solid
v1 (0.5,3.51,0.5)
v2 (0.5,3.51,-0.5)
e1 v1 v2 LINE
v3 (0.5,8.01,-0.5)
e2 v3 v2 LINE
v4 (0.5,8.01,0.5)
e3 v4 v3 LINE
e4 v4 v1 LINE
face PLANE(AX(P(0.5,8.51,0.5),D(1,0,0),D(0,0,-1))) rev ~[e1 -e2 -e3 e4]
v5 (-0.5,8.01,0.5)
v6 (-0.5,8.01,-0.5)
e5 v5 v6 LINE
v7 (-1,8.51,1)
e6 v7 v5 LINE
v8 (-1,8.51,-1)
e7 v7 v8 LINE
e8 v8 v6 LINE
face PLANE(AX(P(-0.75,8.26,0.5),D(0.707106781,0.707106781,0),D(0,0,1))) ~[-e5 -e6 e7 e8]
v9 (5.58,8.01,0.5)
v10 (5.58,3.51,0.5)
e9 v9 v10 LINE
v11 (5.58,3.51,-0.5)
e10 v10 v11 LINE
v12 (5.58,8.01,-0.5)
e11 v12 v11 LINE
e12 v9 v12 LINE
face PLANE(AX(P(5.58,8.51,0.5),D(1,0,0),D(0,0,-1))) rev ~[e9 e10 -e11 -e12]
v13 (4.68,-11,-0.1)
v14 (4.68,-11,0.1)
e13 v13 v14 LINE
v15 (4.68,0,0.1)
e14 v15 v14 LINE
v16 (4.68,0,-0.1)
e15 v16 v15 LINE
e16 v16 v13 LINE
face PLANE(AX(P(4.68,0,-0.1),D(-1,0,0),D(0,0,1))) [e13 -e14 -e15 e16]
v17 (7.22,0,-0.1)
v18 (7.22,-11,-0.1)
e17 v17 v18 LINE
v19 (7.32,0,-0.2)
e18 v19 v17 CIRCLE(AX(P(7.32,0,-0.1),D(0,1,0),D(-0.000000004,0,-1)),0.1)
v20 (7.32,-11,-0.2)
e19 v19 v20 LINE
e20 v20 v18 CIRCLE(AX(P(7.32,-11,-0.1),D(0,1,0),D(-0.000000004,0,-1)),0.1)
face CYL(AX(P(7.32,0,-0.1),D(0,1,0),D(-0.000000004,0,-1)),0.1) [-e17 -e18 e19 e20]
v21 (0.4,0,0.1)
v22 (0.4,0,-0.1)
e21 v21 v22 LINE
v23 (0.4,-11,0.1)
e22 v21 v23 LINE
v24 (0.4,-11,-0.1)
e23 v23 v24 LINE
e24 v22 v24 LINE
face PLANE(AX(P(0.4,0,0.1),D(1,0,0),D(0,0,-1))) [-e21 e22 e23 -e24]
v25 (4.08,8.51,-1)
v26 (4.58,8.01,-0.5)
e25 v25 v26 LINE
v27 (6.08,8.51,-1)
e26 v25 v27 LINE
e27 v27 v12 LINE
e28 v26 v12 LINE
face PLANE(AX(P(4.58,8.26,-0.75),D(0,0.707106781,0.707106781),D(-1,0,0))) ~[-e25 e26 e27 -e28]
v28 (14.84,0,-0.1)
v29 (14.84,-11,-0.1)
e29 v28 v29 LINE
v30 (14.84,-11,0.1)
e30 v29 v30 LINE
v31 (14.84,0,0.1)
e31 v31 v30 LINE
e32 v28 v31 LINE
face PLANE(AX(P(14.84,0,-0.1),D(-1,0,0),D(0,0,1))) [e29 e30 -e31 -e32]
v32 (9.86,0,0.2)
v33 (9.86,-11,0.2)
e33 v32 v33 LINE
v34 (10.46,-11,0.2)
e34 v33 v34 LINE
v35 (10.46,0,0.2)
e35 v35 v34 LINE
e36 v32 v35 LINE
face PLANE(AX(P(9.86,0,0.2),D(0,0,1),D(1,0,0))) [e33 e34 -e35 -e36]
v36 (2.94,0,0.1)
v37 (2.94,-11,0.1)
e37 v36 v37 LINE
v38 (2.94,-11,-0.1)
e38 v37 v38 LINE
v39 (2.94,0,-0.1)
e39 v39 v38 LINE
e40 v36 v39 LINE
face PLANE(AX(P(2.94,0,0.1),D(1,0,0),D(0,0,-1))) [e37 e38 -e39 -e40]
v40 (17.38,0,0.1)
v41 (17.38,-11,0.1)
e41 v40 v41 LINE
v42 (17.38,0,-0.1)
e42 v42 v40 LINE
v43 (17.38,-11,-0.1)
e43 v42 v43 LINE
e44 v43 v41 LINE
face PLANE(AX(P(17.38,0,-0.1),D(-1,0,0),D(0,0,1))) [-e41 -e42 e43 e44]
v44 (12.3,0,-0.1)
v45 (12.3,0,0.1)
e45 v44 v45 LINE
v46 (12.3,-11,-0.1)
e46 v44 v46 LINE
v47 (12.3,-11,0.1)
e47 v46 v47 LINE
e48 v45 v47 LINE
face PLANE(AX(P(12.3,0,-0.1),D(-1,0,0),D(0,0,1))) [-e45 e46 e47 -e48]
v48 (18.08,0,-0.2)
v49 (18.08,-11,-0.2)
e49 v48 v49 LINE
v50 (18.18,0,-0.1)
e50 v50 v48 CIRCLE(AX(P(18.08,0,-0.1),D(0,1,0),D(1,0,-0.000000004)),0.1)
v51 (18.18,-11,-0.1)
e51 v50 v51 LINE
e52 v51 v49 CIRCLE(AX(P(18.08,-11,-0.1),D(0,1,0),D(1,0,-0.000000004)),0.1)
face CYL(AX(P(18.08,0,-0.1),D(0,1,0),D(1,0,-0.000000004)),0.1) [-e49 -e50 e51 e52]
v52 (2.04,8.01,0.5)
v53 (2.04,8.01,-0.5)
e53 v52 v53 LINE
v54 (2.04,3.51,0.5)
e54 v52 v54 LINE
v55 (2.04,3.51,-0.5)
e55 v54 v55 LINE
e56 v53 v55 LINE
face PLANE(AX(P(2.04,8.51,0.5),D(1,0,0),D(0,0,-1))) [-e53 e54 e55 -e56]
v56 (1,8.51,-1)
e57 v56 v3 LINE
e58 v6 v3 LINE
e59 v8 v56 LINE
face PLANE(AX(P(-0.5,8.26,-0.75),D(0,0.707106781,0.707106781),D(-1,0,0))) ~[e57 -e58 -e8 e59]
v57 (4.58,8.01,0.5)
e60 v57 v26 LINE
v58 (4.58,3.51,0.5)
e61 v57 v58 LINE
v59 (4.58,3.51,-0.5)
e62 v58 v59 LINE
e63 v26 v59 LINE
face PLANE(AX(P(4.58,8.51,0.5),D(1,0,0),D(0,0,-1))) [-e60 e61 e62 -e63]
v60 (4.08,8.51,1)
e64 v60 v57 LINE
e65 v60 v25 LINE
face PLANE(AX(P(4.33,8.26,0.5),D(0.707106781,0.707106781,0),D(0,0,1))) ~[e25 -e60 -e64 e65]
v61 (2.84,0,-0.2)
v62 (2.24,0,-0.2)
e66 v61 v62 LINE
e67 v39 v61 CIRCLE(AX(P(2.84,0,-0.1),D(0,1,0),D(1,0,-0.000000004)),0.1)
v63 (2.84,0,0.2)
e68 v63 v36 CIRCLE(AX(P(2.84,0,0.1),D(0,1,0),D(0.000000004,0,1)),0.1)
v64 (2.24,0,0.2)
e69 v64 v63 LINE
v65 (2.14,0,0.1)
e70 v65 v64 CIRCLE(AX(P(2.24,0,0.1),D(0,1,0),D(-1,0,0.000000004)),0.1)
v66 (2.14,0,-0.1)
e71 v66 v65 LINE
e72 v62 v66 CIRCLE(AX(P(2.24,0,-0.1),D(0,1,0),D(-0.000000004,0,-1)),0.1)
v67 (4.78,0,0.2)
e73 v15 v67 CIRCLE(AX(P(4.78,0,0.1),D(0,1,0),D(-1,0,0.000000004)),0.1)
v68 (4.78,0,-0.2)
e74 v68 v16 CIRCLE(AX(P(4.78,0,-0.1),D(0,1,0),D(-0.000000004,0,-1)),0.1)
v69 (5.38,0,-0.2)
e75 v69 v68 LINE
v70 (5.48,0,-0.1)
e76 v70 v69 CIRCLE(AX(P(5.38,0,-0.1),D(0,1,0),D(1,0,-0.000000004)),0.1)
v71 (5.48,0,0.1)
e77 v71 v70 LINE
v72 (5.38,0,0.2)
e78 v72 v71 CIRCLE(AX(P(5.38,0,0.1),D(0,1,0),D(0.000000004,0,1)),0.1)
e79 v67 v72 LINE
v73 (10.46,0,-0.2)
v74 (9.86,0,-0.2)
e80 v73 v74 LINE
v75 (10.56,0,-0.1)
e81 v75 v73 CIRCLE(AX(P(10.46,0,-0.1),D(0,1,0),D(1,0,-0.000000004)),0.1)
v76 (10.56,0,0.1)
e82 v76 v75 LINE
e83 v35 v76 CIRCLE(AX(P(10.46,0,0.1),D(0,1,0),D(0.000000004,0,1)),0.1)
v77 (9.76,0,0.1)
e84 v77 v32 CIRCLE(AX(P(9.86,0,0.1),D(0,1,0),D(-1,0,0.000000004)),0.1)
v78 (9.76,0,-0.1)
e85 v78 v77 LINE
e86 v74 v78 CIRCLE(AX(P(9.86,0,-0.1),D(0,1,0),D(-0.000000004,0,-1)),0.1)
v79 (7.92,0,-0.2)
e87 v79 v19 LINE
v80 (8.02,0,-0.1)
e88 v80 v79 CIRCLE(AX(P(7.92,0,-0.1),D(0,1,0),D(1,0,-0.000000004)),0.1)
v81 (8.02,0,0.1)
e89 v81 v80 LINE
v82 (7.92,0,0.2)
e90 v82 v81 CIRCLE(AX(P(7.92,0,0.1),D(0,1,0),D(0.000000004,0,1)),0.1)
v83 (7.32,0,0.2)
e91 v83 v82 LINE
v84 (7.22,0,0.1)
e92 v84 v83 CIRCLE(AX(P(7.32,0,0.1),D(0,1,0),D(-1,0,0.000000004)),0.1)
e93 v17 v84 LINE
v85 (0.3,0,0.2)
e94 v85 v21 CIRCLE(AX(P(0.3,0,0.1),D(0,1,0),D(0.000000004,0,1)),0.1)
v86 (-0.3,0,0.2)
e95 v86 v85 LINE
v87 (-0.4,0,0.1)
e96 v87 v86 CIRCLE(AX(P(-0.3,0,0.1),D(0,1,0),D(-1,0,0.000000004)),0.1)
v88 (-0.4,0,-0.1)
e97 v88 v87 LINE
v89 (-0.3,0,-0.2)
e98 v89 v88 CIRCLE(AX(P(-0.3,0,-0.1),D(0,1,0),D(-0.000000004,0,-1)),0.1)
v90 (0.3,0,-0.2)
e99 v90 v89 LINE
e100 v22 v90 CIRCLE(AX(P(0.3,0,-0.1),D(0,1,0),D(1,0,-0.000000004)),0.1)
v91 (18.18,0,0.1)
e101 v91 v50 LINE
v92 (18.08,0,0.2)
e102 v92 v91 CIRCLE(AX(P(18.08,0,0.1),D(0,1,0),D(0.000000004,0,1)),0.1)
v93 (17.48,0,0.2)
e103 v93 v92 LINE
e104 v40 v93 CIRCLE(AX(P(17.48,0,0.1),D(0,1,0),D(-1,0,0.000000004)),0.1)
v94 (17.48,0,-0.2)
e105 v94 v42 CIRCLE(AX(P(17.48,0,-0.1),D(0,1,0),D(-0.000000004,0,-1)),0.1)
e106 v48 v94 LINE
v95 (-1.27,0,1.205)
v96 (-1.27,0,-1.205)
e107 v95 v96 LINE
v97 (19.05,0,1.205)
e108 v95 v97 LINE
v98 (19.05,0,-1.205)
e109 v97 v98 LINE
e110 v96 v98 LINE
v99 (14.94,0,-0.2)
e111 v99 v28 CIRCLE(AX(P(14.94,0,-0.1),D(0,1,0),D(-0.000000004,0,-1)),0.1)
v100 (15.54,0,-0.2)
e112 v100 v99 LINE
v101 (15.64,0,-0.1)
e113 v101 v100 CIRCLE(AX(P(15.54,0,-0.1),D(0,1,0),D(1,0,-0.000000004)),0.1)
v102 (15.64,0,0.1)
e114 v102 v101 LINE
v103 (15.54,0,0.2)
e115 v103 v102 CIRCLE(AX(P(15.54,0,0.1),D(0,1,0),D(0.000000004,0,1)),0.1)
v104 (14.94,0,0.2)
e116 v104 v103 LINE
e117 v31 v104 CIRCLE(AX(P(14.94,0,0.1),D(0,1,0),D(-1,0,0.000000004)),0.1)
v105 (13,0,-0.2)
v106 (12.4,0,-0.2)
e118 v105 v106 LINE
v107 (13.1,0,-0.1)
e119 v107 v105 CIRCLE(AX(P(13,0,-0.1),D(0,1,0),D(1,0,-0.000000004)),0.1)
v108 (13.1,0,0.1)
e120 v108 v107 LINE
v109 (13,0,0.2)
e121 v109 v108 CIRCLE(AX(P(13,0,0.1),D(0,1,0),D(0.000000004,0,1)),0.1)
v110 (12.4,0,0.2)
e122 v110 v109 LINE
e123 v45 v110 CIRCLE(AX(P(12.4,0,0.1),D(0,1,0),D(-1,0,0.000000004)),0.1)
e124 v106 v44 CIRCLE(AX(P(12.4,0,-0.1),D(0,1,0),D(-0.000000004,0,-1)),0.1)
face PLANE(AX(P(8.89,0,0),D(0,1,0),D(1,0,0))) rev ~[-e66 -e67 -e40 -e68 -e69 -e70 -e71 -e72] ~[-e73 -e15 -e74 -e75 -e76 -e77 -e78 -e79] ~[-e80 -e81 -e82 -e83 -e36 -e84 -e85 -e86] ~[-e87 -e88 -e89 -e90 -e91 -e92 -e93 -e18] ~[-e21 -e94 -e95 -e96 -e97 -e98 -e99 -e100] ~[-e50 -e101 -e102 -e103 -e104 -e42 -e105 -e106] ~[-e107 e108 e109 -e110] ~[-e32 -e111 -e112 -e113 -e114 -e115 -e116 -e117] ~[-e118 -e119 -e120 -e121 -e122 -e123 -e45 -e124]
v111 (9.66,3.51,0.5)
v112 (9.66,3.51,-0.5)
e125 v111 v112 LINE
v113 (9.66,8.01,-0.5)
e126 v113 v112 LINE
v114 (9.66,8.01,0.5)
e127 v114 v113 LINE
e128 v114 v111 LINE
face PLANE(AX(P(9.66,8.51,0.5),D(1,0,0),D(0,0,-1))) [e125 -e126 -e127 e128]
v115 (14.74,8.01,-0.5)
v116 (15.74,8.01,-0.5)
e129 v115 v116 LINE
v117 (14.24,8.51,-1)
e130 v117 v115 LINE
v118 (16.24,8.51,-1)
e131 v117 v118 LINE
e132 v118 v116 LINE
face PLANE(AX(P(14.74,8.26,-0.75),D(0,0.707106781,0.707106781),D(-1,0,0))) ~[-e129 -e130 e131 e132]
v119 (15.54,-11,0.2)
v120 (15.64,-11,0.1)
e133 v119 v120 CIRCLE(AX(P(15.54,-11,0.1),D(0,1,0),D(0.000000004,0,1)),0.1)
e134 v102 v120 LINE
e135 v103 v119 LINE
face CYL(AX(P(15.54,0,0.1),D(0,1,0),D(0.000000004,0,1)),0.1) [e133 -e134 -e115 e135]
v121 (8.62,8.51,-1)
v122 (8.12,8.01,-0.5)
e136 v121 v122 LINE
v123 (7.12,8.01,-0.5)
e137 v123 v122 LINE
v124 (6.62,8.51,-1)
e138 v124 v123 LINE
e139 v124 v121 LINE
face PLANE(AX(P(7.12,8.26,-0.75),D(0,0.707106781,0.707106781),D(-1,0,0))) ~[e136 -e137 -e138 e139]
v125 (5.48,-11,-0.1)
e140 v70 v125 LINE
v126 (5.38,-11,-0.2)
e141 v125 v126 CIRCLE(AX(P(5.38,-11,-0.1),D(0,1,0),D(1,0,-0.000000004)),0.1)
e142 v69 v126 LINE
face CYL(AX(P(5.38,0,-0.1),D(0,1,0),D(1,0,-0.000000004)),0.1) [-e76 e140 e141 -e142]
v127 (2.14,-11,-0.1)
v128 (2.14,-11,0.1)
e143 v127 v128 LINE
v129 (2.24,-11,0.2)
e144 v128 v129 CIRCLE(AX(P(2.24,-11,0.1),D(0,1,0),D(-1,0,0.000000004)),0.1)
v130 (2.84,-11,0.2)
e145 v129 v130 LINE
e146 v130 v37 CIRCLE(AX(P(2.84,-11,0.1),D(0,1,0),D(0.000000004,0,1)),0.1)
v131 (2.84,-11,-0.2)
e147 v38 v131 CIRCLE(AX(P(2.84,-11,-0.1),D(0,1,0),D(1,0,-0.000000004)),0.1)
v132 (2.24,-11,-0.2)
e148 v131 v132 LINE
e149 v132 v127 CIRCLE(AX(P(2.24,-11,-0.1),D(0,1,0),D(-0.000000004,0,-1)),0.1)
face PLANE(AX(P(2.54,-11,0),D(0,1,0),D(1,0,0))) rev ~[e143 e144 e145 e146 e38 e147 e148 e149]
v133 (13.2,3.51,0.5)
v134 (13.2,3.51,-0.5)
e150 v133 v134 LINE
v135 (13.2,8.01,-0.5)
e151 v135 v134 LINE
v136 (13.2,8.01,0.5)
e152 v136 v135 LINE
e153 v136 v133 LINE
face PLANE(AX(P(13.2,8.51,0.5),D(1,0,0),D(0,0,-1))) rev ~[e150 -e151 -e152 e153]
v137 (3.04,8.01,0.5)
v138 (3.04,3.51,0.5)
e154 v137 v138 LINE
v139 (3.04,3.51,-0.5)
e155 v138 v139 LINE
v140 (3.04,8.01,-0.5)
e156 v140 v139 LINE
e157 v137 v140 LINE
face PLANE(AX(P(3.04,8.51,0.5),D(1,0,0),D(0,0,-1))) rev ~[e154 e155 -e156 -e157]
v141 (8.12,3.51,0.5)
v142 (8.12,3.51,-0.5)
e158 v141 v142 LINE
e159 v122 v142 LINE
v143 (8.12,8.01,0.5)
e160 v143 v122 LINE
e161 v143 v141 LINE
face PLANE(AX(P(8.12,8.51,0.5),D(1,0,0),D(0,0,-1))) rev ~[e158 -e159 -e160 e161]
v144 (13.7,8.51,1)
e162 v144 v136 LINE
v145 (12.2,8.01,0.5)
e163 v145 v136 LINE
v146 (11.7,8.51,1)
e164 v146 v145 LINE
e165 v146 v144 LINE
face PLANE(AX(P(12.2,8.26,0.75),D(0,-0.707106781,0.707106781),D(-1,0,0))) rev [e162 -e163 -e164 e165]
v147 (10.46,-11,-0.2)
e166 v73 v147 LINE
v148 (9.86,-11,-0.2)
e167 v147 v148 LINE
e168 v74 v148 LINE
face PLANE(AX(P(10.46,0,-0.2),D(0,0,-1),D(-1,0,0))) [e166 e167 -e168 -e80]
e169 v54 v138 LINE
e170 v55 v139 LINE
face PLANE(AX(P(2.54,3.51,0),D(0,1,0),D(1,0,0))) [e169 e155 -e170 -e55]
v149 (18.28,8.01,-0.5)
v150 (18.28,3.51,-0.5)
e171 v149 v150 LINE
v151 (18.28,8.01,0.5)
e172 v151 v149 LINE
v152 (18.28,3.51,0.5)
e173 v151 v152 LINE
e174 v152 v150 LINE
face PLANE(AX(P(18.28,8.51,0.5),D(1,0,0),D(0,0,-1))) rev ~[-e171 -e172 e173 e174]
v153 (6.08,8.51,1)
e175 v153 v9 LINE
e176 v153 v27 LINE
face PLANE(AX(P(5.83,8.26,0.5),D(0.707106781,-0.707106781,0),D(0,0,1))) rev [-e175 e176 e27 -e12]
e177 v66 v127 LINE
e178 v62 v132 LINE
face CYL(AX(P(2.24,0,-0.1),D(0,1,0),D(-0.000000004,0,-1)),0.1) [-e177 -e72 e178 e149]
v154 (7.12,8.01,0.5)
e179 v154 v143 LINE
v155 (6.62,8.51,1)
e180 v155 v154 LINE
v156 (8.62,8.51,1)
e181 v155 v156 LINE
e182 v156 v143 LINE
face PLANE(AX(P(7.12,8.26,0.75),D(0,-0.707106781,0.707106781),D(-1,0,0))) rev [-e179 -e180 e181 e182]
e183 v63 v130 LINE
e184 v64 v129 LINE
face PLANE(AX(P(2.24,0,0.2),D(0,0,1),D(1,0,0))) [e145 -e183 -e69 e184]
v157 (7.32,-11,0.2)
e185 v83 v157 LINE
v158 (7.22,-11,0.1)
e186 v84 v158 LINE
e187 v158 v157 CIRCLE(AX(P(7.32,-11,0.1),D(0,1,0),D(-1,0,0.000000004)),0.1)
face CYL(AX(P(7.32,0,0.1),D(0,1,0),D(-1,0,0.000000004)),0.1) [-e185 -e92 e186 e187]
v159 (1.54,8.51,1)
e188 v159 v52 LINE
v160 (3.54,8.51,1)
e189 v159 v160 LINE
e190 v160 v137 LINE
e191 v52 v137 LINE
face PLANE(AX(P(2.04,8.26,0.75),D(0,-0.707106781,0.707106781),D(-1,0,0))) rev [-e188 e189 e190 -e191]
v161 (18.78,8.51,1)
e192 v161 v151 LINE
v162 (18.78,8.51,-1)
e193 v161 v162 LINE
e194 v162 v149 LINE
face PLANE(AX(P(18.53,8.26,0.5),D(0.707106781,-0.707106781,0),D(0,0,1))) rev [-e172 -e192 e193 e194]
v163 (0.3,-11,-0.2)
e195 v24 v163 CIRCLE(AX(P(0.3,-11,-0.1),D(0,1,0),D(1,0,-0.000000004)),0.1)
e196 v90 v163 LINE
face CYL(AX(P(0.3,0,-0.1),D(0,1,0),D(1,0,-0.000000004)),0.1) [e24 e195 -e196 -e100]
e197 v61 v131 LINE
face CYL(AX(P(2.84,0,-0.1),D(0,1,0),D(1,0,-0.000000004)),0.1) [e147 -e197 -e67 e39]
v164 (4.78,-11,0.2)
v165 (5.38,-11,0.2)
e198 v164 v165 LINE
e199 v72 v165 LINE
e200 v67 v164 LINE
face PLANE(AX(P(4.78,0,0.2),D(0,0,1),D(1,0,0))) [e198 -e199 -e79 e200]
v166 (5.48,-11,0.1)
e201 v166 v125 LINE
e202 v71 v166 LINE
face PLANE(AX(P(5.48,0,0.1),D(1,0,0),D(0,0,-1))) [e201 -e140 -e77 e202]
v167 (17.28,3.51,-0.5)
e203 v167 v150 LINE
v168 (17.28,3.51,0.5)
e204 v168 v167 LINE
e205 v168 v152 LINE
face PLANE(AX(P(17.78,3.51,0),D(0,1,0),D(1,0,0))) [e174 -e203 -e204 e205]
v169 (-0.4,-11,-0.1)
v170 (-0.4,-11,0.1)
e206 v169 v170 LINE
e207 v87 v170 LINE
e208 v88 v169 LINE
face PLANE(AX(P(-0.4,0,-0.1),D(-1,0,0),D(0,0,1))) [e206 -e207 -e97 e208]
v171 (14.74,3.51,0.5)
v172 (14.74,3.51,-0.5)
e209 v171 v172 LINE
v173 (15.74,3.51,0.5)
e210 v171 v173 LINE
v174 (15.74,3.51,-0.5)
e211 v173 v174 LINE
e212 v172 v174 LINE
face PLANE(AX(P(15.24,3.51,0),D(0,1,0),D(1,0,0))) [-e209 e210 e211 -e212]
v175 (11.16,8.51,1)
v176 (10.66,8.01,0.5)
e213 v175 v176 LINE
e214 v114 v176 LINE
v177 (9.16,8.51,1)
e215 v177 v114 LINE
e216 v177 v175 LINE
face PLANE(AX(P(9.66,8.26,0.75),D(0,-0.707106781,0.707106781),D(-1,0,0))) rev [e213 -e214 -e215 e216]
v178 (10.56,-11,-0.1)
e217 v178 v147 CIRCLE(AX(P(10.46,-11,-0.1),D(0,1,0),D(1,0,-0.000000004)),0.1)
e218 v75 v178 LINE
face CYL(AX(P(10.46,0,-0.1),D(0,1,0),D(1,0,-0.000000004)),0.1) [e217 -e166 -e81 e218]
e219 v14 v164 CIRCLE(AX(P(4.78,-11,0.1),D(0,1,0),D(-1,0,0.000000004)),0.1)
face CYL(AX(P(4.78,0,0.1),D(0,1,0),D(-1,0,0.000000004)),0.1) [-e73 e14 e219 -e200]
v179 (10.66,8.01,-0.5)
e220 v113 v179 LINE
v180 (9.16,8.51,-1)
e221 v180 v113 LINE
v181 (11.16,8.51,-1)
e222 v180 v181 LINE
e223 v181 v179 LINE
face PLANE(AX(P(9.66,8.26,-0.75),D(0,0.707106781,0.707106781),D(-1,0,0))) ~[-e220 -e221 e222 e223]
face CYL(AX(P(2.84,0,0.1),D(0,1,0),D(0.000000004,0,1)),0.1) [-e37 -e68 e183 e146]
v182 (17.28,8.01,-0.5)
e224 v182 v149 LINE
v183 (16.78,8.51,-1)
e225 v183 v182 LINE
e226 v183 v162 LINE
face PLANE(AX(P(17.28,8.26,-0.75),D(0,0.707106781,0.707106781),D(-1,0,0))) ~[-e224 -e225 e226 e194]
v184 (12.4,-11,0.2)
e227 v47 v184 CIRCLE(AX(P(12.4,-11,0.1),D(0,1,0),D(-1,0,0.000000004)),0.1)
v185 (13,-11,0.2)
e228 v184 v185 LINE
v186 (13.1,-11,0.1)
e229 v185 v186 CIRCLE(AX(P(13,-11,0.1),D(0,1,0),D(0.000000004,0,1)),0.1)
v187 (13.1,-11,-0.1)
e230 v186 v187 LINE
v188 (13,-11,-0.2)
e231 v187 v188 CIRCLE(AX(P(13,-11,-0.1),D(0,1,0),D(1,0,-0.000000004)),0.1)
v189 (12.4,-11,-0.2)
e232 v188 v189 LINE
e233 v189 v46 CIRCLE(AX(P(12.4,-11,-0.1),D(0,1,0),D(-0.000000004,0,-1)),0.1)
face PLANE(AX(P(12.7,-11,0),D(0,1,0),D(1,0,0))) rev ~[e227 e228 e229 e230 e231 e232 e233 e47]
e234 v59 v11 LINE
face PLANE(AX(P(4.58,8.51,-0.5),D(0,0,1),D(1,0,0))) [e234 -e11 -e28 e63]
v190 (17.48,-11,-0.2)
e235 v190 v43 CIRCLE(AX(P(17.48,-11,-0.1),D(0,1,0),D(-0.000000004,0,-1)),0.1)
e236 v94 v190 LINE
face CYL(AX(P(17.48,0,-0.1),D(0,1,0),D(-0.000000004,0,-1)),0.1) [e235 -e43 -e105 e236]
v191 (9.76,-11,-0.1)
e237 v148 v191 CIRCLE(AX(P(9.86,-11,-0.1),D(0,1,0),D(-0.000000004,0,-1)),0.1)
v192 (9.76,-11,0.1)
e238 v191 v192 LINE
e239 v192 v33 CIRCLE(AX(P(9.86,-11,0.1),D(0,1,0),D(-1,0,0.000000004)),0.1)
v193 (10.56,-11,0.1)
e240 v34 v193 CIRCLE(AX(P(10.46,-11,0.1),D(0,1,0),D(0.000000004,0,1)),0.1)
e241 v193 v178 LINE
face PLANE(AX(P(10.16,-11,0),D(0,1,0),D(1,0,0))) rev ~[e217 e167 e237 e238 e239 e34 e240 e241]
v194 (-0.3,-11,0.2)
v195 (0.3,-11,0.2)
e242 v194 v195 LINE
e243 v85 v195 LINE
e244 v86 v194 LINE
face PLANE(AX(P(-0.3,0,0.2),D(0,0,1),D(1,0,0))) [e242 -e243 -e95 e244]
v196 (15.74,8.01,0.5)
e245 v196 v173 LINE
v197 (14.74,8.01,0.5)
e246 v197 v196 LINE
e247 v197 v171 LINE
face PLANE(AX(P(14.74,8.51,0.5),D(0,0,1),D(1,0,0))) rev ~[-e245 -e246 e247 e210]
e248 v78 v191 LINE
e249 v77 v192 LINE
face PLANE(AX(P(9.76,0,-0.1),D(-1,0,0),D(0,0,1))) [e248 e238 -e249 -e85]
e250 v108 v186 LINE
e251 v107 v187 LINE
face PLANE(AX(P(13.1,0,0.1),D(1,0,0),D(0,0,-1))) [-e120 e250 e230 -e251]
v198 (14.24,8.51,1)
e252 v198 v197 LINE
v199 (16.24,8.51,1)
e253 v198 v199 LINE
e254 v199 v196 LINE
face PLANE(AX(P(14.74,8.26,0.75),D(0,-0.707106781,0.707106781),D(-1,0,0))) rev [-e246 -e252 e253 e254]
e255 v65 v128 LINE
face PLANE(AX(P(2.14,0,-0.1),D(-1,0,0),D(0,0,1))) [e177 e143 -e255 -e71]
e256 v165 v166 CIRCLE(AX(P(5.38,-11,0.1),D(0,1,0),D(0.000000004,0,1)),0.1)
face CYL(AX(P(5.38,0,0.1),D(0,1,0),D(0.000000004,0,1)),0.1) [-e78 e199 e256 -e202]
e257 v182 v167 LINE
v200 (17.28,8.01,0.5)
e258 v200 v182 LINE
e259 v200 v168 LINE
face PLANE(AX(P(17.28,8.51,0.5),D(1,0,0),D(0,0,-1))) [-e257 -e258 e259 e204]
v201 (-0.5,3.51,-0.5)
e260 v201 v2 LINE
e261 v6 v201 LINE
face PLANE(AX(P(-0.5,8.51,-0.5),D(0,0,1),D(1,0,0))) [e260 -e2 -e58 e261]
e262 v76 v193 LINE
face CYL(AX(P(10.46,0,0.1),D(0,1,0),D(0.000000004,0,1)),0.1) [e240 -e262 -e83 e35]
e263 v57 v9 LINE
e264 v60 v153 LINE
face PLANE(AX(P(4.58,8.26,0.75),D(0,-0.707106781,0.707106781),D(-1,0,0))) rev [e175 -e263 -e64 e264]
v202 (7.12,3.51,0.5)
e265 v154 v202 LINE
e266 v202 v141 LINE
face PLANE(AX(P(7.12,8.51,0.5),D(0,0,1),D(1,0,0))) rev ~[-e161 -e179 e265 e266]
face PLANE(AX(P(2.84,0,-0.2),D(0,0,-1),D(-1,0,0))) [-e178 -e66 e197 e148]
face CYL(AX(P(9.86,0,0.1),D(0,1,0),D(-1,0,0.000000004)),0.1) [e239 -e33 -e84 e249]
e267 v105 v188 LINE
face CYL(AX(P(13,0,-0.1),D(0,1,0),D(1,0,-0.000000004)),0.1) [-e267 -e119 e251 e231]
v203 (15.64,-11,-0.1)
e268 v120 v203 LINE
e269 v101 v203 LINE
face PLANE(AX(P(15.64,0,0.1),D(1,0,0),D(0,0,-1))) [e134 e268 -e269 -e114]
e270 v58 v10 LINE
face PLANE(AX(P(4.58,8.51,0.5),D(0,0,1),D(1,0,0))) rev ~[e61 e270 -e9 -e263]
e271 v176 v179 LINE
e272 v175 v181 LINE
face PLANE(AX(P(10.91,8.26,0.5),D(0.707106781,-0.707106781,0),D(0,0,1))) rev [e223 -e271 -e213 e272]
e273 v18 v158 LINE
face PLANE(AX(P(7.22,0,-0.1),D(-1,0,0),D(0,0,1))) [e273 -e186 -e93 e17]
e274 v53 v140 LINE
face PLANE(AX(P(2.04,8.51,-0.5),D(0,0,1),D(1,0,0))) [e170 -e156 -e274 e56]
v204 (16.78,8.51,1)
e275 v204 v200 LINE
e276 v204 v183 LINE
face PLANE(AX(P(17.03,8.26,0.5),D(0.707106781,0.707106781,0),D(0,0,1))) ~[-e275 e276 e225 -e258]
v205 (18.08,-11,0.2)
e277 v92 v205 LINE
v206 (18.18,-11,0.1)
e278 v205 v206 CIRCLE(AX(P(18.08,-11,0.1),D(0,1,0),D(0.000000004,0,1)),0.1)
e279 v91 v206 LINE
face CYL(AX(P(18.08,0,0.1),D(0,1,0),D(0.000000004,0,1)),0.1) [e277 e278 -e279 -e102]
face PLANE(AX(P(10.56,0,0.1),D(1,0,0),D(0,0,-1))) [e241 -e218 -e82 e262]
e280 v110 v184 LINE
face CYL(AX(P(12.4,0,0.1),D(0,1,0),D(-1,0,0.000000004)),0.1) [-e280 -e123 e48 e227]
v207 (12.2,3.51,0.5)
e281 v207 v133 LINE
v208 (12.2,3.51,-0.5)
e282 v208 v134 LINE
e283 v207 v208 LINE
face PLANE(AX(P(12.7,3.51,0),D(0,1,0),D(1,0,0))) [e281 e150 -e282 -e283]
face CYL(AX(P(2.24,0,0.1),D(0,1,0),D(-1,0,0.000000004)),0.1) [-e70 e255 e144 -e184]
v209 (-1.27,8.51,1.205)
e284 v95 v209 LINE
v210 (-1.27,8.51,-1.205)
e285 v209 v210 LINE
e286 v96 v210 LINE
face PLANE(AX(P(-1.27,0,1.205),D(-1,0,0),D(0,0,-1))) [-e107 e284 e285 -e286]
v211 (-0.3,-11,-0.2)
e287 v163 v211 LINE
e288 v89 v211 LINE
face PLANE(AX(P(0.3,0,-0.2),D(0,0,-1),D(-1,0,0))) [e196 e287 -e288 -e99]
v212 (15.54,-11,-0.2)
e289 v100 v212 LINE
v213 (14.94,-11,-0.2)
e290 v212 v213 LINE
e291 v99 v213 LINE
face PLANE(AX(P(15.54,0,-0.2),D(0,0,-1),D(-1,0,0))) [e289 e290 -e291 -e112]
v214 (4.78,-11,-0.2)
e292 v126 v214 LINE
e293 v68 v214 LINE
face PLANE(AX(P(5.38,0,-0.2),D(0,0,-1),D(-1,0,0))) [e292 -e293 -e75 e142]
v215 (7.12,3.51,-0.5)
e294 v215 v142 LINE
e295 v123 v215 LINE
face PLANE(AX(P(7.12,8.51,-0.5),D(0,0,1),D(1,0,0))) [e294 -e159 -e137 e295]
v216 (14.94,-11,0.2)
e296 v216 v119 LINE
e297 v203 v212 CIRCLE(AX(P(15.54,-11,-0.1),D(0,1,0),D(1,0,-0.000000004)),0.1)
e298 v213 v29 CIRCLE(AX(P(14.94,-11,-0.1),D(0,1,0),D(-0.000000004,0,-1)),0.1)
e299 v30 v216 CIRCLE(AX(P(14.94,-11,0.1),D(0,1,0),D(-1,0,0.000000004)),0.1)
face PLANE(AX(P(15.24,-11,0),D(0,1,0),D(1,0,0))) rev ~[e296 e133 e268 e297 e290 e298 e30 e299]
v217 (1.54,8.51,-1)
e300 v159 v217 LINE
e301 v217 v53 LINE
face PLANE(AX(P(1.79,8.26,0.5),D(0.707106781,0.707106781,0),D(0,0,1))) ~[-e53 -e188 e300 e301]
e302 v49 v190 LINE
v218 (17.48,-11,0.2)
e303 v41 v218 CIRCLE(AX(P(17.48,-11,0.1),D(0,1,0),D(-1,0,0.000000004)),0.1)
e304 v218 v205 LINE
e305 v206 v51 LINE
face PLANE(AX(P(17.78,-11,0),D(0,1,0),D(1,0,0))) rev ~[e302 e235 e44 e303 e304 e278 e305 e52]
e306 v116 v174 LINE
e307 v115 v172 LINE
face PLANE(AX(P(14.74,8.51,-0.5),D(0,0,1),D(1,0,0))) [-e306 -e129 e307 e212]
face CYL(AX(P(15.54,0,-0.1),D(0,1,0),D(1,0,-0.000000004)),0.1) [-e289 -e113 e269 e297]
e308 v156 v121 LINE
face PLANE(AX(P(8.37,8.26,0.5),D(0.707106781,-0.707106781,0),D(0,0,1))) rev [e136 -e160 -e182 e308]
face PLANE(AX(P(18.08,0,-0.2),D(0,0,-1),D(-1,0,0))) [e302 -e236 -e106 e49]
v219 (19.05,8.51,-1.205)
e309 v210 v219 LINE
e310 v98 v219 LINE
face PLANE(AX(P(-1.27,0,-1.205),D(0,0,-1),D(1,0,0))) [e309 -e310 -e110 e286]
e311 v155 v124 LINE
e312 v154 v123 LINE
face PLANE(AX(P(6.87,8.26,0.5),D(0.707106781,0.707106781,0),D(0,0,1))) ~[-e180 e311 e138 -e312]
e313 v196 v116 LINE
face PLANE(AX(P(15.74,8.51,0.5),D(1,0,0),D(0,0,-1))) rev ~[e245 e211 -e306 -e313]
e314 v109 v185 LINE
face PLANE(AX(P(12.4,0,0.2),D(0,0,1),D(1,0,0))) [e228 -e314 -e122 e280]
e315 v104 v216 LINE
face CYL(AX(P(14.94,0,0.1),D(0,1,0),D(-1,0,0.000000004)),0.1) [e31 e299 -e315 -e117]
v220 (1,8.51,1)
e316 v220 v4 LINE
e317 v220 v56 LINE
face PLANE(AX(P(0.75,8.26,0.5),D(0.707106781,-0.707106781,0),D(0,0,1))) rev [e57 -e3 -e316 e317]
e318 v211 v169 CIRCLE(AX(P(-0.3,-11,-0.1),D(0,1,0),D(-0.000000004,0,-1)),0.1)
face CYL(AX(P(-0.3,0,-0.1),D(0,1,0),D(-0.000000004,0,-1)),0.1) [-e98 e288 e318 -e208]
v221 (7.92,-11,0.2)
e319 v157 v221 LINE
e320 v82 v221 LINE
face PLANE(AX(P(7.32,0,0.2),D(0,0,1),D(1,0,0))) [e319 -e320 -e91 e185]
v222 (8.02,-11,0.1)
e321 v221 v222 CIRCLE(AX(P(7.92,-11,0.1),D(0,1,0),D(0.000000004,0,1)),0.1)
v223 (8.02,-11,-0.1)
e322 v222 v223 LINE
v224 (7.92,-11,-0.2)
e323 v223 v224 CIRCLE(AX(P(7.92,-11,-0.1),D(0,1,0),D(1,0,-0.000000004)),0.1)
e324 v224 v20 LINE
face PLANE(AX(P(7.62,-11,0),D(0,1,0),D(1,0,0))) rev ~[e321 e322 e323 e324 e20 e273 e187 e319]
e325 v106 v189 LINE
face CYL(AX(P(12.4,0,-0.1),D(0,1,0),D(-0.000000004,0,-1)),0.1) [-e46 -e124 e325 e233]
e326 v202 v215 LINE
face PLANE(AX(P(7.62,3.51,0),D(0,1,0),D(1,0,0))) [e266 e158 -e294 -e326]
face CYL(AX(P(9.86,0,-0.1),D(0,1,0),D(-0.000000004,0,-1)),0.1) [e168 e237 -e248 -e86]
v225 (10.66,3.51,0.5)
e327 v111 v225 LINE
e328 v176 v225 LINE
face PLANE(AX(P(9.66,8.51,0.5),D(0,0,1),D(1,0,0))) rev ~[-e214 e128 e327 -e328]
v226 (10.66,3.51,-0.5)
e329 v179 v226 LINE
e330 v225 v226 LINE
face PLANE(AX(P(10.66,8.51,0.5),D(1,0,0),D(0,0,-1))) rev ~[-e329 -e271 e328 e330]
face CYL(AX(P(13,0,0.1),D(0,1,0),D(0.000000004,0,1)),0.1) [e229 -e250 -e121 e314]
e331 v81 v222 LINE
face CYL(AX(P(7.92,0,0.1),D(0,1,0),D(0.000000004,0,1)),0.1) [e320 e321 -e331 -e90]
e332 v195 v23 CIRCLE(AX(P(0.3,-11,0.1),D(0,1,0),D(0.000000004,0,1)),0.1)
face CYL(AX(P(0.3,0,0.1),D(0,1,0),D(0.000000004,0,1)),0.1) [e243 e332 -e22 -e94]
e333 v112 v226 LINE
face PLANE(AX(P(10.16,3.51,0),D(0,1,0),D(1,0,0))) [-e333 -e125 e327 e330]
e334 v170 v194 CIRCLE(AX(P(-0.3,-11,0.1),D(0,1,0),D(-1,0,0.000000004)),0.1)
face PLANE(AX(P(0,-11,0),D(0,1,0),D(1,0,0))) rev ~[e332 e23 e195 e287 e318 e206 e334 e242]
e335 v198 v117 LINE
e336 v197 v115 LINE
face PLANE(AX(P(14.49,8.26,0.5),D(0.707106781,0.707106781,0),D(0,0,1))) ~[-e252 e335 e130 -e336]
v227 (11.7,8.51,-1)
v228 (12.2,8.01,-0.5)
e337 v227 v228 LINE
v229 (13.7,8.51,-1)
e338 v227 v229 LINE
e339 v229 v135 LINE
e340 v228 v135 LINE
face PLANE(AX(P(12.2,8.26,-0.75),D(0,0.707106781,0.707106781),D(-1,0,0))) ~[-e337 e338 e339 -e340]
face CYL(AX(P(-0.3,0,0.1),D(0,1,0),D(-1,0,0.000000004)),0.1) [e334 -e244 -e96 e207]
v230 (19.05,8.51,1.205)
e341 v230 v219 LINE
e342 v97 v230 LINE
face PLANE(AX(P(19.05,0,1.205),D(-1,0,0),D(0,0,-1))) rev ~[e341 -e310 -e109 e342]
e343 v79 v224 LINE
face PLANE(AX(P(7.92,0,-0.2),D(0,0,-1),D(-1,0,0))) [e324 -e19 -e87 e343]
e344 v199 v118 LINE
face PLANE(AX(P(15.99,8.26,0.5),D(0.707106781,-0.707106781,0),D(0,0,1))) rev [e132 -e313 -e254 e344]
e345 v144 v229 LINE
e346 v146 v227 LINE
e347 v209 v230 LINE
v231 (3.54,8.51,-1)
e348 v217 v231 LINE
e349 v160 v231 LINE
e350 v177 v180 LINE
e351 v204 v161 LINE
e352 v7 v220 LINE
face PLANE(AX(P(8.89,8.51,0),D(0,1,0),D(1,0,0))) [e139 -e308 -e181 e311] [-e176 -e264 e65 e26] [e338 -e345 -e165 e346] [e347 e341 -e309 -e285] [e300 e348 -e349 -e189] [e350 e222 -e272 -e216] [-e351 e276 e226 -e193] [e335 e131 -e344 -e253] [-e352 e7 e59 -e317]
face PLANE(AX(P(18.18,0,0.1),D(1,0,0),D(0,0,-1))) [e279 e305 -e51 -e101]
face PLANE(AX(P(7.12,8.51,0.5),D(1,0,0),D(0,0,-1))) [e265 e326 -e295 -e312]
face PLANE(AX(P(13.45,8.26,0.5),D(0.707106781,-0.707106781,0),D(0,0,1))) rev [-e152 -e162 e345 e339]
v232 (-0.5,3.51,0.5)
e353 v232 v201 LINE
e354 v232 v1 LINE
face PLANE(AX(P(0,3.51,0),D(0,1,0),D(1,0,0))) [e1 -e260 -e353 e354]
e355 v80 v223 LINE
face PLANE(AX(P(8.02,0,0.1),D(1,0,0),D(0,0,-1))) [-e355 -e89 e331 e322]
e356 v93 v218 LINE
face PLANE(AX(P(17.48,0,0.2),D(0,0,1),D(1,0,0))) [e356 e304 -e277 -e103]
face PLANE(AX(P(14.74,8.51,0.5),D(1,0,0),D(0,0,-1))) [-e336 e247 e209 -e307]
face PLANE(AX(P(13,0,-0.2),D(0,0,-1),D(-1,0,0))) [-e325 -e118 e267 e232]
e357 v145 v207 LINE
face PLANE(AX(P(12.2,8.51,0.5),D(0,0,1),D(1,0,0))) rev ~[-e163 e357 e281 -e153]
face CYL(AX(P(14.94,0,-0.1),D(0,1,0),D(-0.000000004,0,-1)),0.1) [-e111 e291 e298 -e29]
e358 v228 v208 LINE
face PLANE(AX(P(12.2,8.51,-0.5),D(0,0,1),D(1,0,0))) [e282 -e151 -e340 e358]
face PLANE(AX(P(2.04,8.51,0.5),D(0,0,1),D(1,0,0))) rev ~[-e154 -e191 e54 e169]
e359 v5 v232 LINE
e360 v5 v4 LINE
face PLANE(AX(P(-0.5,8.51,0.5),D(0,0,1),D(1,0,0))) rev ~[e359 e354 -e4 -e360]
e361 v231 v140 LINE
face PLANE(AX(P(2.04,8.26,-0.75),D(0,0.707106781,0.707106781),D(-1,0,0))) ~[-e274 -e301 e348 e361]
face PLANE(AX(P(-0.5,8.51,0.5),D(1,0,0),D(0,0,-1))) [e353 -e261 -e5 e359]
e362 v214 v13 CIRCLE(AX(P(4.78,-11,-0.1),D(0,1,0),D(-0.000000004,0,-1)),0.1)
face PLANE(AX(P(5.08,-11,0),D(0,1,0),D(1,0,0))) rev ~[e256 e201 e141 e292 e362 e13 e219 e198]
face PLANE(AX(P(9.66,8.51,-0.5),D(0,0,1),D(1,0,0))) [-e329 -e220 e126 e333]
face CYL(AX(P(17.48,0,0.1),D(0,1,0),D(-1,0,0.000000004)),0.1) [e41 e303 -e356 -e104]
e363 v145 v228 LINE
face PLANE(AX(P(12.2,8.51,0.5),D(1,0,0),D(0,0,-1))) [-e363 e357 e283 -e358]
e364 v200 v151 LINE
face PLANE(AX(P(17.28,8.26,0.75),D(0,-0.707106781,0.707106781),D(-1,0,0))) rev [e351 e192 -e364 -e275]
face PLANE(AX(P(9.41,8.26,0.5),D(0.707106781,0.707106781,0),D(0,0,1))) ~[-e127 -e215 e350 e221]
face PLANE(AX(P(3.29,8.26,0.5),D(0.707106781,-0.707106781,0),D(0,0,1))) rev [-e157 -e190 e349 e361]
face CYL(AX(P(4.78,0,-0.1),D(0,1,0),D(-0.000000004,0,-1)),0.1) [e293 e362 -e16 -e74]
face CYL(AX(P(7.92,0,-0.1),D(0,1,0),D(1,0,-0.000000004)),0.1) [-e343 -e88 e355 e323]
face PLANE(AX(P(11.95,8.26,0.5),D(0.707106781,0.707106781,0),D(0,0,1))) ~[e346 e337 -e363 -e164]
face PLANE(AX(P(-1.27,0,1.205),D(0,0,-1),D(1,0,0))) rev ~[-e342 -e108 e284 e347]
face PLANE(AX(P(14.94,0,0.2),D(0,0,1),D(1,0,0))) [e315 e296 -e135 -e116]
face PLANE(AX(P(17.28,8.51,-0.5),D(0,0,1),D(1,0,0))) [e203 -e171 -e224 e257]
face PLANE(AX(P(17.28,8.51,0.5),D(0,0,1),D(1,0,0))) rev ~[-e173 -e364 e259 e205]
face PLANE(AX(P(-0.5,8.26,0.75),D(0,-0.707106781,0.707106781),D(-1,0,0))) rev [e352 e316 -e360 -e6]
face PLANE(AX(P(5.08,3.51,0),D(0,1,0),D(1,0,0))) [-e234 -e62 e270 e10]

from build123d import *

# Parameters (mm, degrees)
SKETCH2_W                  = 20.32
SKETCH2_H                  = 2.41
BOSS_EXTRUDE1_DEPTH        = 8.51
SKETCH5_W                  = 1
SKETCH5_H                  = 1
CUT_EXTRUDE1_DEPTH         = 5
CHAMFER1_SIZE              = 0.5
LPATTERN3_COUNT            = 8
LPATTERN3_PITCH            = 2.54
CHAMFER1_OF_LPATTERN3_SIZE = 0.5
BOSS_EXTRUDE2_DEPTH        = 11
LPATTERN1_COUNT            = 8
LPATTERN1_PITCH            = 2.54


with BuildPart() as part:
    # Sketch2 → Boss-Extrude1 (new body)
    with BuildSketch(Plane(origin=(0, 0, 0), x_dir=(1, 0, 0), z_dir=(0, 1, 0))):
        with Locations((8.89, 0)):
            Rectangle(SKETCH2_W, SKETCH2_H)
    extrude(amount=BOSS_EXTRUDE1_DEPTH)

    # Sketch5 → Cut-Extrude1 (cut)
    with BuildSketch(Plane(origin=(0, 8.51, 0), x_dir=(1, 0, 0), z_dir=(0, 1, 0))):
        Rectangle(SKETCH5_W, SKETCH5_H)
    cut_extrude1 = extrude(amount=-CUT_EXTRUDE1_DEPTH, mode=Mode.SUBTRACT)

    # Chamfer1
    chamfer1_edges = [part.edges().sort_by_distance(p)[0] for p in [
        (0.5, 8.51, 0),
        (0, 8.51, -0.5),
        (-0.5, 8.51, 0),
        (0, 8.51, 0.5),
    ]]
    chamfer(chamfer1_edges, length=CHAMFER1_SIZE)

    # LPattern3: Cut-Extrude1 ×8
    with Locations(*[(i * LPATTERN3_PITCH, 0, 0) for i in range(1, LPATTERN3_COUNT)]):
        add(cut_extrude1, mode=Mode.SUBTRACT)

    # Chamfer1 of LPattern3
    chamfer1_of_lpattern3_edges = [part.edges().sort_by_distance(p)[0] for p in [
        (3.04, 8.51, 0),
        (2.54, 8.51, -0.5),
        (2.04, 8.51, 0),
        (2.54, 8.51, 0.5),
        (5.58, 8.51, 0),
        (5.08, 8.51, -0.5),
        (4.58, 8.51, 0),
        (5.08, 8.51, 0.5),
        (8.12, 8.51, 0),
        (7.62, 8.51, -0.5),
        (7.12, 8.51, 0),
        (7.62, 8.51, 0.5),
        (10.66, 8.51, 0),
        (10.16, 8.51, -0.5),
        (9.66, 8.51, 0),
        (10.16, 8.51, 0.5),
        (13.2, 8.51, 0),
        (12.7, 8.51, -0.5),
        (12.2, 8.51, 0),
        (12.7, 8.51, 0.5),
        (15.74, 8.51, 0),
        (15.24, 8.51, -0.5),
        (14.74, 8.51, 0),
        (15.24, 8.51, 0.5),
        (18.28, 8.51, 0),
        (17.78, 8.51, -0.5),
        (17.28, 8.51, 0),
        (17.78, 8.51, 0.5),
    ]]
    chamfer(chamfer1_of_lpattern3_edges, length=CHAMFER1_OF_LPATTERN3_SIZE)

    # Sketch8 → Boss-Extrude2 (add)
    with BuildSketch(Plane(origin=(0, 0, 0), x_dir=(1, 0, 0), z_dir=(0, 1, 0))):
        with BuildLine():
            Line((-0.3, -0.2), (0.3, -0.2))
            ThreePointArc((0.3, -0.2), (0.370710678, -0.170710678), (0.4, -0.1))
            Line((0.4, -0.1), (0.4, 0.1))
            ThreePointArc((0.4, 0.1), (0.370710678, 0.170710678), (0.3, 0.2))
            Line((0.3, 0.2), (-0.3, 0.2))
            ThreePointArc((-0.3, 0.2), (-0.370710678, 0.170710678), (-0.4, 0.1))
            Line((-0.4, 0.1), (-0.4, -0.1))
            ThreePointArc((-0.4, -0.1), (-0.370710678, -0.170710678), (-0.3, -0.2))
        make_face()
    boss_extrude2 = extrude(amount=-BOSS_EXTRUDE2_DEPTH)

    # LPattern1: Boss-Extrude2 ×8
    with Locations(*[(i * LPATTERN1_PITCH, 0, 0) for i in range(1, LPATTERN1_COUNT)]):
        add(boss_extrude2)


solid = part.part
